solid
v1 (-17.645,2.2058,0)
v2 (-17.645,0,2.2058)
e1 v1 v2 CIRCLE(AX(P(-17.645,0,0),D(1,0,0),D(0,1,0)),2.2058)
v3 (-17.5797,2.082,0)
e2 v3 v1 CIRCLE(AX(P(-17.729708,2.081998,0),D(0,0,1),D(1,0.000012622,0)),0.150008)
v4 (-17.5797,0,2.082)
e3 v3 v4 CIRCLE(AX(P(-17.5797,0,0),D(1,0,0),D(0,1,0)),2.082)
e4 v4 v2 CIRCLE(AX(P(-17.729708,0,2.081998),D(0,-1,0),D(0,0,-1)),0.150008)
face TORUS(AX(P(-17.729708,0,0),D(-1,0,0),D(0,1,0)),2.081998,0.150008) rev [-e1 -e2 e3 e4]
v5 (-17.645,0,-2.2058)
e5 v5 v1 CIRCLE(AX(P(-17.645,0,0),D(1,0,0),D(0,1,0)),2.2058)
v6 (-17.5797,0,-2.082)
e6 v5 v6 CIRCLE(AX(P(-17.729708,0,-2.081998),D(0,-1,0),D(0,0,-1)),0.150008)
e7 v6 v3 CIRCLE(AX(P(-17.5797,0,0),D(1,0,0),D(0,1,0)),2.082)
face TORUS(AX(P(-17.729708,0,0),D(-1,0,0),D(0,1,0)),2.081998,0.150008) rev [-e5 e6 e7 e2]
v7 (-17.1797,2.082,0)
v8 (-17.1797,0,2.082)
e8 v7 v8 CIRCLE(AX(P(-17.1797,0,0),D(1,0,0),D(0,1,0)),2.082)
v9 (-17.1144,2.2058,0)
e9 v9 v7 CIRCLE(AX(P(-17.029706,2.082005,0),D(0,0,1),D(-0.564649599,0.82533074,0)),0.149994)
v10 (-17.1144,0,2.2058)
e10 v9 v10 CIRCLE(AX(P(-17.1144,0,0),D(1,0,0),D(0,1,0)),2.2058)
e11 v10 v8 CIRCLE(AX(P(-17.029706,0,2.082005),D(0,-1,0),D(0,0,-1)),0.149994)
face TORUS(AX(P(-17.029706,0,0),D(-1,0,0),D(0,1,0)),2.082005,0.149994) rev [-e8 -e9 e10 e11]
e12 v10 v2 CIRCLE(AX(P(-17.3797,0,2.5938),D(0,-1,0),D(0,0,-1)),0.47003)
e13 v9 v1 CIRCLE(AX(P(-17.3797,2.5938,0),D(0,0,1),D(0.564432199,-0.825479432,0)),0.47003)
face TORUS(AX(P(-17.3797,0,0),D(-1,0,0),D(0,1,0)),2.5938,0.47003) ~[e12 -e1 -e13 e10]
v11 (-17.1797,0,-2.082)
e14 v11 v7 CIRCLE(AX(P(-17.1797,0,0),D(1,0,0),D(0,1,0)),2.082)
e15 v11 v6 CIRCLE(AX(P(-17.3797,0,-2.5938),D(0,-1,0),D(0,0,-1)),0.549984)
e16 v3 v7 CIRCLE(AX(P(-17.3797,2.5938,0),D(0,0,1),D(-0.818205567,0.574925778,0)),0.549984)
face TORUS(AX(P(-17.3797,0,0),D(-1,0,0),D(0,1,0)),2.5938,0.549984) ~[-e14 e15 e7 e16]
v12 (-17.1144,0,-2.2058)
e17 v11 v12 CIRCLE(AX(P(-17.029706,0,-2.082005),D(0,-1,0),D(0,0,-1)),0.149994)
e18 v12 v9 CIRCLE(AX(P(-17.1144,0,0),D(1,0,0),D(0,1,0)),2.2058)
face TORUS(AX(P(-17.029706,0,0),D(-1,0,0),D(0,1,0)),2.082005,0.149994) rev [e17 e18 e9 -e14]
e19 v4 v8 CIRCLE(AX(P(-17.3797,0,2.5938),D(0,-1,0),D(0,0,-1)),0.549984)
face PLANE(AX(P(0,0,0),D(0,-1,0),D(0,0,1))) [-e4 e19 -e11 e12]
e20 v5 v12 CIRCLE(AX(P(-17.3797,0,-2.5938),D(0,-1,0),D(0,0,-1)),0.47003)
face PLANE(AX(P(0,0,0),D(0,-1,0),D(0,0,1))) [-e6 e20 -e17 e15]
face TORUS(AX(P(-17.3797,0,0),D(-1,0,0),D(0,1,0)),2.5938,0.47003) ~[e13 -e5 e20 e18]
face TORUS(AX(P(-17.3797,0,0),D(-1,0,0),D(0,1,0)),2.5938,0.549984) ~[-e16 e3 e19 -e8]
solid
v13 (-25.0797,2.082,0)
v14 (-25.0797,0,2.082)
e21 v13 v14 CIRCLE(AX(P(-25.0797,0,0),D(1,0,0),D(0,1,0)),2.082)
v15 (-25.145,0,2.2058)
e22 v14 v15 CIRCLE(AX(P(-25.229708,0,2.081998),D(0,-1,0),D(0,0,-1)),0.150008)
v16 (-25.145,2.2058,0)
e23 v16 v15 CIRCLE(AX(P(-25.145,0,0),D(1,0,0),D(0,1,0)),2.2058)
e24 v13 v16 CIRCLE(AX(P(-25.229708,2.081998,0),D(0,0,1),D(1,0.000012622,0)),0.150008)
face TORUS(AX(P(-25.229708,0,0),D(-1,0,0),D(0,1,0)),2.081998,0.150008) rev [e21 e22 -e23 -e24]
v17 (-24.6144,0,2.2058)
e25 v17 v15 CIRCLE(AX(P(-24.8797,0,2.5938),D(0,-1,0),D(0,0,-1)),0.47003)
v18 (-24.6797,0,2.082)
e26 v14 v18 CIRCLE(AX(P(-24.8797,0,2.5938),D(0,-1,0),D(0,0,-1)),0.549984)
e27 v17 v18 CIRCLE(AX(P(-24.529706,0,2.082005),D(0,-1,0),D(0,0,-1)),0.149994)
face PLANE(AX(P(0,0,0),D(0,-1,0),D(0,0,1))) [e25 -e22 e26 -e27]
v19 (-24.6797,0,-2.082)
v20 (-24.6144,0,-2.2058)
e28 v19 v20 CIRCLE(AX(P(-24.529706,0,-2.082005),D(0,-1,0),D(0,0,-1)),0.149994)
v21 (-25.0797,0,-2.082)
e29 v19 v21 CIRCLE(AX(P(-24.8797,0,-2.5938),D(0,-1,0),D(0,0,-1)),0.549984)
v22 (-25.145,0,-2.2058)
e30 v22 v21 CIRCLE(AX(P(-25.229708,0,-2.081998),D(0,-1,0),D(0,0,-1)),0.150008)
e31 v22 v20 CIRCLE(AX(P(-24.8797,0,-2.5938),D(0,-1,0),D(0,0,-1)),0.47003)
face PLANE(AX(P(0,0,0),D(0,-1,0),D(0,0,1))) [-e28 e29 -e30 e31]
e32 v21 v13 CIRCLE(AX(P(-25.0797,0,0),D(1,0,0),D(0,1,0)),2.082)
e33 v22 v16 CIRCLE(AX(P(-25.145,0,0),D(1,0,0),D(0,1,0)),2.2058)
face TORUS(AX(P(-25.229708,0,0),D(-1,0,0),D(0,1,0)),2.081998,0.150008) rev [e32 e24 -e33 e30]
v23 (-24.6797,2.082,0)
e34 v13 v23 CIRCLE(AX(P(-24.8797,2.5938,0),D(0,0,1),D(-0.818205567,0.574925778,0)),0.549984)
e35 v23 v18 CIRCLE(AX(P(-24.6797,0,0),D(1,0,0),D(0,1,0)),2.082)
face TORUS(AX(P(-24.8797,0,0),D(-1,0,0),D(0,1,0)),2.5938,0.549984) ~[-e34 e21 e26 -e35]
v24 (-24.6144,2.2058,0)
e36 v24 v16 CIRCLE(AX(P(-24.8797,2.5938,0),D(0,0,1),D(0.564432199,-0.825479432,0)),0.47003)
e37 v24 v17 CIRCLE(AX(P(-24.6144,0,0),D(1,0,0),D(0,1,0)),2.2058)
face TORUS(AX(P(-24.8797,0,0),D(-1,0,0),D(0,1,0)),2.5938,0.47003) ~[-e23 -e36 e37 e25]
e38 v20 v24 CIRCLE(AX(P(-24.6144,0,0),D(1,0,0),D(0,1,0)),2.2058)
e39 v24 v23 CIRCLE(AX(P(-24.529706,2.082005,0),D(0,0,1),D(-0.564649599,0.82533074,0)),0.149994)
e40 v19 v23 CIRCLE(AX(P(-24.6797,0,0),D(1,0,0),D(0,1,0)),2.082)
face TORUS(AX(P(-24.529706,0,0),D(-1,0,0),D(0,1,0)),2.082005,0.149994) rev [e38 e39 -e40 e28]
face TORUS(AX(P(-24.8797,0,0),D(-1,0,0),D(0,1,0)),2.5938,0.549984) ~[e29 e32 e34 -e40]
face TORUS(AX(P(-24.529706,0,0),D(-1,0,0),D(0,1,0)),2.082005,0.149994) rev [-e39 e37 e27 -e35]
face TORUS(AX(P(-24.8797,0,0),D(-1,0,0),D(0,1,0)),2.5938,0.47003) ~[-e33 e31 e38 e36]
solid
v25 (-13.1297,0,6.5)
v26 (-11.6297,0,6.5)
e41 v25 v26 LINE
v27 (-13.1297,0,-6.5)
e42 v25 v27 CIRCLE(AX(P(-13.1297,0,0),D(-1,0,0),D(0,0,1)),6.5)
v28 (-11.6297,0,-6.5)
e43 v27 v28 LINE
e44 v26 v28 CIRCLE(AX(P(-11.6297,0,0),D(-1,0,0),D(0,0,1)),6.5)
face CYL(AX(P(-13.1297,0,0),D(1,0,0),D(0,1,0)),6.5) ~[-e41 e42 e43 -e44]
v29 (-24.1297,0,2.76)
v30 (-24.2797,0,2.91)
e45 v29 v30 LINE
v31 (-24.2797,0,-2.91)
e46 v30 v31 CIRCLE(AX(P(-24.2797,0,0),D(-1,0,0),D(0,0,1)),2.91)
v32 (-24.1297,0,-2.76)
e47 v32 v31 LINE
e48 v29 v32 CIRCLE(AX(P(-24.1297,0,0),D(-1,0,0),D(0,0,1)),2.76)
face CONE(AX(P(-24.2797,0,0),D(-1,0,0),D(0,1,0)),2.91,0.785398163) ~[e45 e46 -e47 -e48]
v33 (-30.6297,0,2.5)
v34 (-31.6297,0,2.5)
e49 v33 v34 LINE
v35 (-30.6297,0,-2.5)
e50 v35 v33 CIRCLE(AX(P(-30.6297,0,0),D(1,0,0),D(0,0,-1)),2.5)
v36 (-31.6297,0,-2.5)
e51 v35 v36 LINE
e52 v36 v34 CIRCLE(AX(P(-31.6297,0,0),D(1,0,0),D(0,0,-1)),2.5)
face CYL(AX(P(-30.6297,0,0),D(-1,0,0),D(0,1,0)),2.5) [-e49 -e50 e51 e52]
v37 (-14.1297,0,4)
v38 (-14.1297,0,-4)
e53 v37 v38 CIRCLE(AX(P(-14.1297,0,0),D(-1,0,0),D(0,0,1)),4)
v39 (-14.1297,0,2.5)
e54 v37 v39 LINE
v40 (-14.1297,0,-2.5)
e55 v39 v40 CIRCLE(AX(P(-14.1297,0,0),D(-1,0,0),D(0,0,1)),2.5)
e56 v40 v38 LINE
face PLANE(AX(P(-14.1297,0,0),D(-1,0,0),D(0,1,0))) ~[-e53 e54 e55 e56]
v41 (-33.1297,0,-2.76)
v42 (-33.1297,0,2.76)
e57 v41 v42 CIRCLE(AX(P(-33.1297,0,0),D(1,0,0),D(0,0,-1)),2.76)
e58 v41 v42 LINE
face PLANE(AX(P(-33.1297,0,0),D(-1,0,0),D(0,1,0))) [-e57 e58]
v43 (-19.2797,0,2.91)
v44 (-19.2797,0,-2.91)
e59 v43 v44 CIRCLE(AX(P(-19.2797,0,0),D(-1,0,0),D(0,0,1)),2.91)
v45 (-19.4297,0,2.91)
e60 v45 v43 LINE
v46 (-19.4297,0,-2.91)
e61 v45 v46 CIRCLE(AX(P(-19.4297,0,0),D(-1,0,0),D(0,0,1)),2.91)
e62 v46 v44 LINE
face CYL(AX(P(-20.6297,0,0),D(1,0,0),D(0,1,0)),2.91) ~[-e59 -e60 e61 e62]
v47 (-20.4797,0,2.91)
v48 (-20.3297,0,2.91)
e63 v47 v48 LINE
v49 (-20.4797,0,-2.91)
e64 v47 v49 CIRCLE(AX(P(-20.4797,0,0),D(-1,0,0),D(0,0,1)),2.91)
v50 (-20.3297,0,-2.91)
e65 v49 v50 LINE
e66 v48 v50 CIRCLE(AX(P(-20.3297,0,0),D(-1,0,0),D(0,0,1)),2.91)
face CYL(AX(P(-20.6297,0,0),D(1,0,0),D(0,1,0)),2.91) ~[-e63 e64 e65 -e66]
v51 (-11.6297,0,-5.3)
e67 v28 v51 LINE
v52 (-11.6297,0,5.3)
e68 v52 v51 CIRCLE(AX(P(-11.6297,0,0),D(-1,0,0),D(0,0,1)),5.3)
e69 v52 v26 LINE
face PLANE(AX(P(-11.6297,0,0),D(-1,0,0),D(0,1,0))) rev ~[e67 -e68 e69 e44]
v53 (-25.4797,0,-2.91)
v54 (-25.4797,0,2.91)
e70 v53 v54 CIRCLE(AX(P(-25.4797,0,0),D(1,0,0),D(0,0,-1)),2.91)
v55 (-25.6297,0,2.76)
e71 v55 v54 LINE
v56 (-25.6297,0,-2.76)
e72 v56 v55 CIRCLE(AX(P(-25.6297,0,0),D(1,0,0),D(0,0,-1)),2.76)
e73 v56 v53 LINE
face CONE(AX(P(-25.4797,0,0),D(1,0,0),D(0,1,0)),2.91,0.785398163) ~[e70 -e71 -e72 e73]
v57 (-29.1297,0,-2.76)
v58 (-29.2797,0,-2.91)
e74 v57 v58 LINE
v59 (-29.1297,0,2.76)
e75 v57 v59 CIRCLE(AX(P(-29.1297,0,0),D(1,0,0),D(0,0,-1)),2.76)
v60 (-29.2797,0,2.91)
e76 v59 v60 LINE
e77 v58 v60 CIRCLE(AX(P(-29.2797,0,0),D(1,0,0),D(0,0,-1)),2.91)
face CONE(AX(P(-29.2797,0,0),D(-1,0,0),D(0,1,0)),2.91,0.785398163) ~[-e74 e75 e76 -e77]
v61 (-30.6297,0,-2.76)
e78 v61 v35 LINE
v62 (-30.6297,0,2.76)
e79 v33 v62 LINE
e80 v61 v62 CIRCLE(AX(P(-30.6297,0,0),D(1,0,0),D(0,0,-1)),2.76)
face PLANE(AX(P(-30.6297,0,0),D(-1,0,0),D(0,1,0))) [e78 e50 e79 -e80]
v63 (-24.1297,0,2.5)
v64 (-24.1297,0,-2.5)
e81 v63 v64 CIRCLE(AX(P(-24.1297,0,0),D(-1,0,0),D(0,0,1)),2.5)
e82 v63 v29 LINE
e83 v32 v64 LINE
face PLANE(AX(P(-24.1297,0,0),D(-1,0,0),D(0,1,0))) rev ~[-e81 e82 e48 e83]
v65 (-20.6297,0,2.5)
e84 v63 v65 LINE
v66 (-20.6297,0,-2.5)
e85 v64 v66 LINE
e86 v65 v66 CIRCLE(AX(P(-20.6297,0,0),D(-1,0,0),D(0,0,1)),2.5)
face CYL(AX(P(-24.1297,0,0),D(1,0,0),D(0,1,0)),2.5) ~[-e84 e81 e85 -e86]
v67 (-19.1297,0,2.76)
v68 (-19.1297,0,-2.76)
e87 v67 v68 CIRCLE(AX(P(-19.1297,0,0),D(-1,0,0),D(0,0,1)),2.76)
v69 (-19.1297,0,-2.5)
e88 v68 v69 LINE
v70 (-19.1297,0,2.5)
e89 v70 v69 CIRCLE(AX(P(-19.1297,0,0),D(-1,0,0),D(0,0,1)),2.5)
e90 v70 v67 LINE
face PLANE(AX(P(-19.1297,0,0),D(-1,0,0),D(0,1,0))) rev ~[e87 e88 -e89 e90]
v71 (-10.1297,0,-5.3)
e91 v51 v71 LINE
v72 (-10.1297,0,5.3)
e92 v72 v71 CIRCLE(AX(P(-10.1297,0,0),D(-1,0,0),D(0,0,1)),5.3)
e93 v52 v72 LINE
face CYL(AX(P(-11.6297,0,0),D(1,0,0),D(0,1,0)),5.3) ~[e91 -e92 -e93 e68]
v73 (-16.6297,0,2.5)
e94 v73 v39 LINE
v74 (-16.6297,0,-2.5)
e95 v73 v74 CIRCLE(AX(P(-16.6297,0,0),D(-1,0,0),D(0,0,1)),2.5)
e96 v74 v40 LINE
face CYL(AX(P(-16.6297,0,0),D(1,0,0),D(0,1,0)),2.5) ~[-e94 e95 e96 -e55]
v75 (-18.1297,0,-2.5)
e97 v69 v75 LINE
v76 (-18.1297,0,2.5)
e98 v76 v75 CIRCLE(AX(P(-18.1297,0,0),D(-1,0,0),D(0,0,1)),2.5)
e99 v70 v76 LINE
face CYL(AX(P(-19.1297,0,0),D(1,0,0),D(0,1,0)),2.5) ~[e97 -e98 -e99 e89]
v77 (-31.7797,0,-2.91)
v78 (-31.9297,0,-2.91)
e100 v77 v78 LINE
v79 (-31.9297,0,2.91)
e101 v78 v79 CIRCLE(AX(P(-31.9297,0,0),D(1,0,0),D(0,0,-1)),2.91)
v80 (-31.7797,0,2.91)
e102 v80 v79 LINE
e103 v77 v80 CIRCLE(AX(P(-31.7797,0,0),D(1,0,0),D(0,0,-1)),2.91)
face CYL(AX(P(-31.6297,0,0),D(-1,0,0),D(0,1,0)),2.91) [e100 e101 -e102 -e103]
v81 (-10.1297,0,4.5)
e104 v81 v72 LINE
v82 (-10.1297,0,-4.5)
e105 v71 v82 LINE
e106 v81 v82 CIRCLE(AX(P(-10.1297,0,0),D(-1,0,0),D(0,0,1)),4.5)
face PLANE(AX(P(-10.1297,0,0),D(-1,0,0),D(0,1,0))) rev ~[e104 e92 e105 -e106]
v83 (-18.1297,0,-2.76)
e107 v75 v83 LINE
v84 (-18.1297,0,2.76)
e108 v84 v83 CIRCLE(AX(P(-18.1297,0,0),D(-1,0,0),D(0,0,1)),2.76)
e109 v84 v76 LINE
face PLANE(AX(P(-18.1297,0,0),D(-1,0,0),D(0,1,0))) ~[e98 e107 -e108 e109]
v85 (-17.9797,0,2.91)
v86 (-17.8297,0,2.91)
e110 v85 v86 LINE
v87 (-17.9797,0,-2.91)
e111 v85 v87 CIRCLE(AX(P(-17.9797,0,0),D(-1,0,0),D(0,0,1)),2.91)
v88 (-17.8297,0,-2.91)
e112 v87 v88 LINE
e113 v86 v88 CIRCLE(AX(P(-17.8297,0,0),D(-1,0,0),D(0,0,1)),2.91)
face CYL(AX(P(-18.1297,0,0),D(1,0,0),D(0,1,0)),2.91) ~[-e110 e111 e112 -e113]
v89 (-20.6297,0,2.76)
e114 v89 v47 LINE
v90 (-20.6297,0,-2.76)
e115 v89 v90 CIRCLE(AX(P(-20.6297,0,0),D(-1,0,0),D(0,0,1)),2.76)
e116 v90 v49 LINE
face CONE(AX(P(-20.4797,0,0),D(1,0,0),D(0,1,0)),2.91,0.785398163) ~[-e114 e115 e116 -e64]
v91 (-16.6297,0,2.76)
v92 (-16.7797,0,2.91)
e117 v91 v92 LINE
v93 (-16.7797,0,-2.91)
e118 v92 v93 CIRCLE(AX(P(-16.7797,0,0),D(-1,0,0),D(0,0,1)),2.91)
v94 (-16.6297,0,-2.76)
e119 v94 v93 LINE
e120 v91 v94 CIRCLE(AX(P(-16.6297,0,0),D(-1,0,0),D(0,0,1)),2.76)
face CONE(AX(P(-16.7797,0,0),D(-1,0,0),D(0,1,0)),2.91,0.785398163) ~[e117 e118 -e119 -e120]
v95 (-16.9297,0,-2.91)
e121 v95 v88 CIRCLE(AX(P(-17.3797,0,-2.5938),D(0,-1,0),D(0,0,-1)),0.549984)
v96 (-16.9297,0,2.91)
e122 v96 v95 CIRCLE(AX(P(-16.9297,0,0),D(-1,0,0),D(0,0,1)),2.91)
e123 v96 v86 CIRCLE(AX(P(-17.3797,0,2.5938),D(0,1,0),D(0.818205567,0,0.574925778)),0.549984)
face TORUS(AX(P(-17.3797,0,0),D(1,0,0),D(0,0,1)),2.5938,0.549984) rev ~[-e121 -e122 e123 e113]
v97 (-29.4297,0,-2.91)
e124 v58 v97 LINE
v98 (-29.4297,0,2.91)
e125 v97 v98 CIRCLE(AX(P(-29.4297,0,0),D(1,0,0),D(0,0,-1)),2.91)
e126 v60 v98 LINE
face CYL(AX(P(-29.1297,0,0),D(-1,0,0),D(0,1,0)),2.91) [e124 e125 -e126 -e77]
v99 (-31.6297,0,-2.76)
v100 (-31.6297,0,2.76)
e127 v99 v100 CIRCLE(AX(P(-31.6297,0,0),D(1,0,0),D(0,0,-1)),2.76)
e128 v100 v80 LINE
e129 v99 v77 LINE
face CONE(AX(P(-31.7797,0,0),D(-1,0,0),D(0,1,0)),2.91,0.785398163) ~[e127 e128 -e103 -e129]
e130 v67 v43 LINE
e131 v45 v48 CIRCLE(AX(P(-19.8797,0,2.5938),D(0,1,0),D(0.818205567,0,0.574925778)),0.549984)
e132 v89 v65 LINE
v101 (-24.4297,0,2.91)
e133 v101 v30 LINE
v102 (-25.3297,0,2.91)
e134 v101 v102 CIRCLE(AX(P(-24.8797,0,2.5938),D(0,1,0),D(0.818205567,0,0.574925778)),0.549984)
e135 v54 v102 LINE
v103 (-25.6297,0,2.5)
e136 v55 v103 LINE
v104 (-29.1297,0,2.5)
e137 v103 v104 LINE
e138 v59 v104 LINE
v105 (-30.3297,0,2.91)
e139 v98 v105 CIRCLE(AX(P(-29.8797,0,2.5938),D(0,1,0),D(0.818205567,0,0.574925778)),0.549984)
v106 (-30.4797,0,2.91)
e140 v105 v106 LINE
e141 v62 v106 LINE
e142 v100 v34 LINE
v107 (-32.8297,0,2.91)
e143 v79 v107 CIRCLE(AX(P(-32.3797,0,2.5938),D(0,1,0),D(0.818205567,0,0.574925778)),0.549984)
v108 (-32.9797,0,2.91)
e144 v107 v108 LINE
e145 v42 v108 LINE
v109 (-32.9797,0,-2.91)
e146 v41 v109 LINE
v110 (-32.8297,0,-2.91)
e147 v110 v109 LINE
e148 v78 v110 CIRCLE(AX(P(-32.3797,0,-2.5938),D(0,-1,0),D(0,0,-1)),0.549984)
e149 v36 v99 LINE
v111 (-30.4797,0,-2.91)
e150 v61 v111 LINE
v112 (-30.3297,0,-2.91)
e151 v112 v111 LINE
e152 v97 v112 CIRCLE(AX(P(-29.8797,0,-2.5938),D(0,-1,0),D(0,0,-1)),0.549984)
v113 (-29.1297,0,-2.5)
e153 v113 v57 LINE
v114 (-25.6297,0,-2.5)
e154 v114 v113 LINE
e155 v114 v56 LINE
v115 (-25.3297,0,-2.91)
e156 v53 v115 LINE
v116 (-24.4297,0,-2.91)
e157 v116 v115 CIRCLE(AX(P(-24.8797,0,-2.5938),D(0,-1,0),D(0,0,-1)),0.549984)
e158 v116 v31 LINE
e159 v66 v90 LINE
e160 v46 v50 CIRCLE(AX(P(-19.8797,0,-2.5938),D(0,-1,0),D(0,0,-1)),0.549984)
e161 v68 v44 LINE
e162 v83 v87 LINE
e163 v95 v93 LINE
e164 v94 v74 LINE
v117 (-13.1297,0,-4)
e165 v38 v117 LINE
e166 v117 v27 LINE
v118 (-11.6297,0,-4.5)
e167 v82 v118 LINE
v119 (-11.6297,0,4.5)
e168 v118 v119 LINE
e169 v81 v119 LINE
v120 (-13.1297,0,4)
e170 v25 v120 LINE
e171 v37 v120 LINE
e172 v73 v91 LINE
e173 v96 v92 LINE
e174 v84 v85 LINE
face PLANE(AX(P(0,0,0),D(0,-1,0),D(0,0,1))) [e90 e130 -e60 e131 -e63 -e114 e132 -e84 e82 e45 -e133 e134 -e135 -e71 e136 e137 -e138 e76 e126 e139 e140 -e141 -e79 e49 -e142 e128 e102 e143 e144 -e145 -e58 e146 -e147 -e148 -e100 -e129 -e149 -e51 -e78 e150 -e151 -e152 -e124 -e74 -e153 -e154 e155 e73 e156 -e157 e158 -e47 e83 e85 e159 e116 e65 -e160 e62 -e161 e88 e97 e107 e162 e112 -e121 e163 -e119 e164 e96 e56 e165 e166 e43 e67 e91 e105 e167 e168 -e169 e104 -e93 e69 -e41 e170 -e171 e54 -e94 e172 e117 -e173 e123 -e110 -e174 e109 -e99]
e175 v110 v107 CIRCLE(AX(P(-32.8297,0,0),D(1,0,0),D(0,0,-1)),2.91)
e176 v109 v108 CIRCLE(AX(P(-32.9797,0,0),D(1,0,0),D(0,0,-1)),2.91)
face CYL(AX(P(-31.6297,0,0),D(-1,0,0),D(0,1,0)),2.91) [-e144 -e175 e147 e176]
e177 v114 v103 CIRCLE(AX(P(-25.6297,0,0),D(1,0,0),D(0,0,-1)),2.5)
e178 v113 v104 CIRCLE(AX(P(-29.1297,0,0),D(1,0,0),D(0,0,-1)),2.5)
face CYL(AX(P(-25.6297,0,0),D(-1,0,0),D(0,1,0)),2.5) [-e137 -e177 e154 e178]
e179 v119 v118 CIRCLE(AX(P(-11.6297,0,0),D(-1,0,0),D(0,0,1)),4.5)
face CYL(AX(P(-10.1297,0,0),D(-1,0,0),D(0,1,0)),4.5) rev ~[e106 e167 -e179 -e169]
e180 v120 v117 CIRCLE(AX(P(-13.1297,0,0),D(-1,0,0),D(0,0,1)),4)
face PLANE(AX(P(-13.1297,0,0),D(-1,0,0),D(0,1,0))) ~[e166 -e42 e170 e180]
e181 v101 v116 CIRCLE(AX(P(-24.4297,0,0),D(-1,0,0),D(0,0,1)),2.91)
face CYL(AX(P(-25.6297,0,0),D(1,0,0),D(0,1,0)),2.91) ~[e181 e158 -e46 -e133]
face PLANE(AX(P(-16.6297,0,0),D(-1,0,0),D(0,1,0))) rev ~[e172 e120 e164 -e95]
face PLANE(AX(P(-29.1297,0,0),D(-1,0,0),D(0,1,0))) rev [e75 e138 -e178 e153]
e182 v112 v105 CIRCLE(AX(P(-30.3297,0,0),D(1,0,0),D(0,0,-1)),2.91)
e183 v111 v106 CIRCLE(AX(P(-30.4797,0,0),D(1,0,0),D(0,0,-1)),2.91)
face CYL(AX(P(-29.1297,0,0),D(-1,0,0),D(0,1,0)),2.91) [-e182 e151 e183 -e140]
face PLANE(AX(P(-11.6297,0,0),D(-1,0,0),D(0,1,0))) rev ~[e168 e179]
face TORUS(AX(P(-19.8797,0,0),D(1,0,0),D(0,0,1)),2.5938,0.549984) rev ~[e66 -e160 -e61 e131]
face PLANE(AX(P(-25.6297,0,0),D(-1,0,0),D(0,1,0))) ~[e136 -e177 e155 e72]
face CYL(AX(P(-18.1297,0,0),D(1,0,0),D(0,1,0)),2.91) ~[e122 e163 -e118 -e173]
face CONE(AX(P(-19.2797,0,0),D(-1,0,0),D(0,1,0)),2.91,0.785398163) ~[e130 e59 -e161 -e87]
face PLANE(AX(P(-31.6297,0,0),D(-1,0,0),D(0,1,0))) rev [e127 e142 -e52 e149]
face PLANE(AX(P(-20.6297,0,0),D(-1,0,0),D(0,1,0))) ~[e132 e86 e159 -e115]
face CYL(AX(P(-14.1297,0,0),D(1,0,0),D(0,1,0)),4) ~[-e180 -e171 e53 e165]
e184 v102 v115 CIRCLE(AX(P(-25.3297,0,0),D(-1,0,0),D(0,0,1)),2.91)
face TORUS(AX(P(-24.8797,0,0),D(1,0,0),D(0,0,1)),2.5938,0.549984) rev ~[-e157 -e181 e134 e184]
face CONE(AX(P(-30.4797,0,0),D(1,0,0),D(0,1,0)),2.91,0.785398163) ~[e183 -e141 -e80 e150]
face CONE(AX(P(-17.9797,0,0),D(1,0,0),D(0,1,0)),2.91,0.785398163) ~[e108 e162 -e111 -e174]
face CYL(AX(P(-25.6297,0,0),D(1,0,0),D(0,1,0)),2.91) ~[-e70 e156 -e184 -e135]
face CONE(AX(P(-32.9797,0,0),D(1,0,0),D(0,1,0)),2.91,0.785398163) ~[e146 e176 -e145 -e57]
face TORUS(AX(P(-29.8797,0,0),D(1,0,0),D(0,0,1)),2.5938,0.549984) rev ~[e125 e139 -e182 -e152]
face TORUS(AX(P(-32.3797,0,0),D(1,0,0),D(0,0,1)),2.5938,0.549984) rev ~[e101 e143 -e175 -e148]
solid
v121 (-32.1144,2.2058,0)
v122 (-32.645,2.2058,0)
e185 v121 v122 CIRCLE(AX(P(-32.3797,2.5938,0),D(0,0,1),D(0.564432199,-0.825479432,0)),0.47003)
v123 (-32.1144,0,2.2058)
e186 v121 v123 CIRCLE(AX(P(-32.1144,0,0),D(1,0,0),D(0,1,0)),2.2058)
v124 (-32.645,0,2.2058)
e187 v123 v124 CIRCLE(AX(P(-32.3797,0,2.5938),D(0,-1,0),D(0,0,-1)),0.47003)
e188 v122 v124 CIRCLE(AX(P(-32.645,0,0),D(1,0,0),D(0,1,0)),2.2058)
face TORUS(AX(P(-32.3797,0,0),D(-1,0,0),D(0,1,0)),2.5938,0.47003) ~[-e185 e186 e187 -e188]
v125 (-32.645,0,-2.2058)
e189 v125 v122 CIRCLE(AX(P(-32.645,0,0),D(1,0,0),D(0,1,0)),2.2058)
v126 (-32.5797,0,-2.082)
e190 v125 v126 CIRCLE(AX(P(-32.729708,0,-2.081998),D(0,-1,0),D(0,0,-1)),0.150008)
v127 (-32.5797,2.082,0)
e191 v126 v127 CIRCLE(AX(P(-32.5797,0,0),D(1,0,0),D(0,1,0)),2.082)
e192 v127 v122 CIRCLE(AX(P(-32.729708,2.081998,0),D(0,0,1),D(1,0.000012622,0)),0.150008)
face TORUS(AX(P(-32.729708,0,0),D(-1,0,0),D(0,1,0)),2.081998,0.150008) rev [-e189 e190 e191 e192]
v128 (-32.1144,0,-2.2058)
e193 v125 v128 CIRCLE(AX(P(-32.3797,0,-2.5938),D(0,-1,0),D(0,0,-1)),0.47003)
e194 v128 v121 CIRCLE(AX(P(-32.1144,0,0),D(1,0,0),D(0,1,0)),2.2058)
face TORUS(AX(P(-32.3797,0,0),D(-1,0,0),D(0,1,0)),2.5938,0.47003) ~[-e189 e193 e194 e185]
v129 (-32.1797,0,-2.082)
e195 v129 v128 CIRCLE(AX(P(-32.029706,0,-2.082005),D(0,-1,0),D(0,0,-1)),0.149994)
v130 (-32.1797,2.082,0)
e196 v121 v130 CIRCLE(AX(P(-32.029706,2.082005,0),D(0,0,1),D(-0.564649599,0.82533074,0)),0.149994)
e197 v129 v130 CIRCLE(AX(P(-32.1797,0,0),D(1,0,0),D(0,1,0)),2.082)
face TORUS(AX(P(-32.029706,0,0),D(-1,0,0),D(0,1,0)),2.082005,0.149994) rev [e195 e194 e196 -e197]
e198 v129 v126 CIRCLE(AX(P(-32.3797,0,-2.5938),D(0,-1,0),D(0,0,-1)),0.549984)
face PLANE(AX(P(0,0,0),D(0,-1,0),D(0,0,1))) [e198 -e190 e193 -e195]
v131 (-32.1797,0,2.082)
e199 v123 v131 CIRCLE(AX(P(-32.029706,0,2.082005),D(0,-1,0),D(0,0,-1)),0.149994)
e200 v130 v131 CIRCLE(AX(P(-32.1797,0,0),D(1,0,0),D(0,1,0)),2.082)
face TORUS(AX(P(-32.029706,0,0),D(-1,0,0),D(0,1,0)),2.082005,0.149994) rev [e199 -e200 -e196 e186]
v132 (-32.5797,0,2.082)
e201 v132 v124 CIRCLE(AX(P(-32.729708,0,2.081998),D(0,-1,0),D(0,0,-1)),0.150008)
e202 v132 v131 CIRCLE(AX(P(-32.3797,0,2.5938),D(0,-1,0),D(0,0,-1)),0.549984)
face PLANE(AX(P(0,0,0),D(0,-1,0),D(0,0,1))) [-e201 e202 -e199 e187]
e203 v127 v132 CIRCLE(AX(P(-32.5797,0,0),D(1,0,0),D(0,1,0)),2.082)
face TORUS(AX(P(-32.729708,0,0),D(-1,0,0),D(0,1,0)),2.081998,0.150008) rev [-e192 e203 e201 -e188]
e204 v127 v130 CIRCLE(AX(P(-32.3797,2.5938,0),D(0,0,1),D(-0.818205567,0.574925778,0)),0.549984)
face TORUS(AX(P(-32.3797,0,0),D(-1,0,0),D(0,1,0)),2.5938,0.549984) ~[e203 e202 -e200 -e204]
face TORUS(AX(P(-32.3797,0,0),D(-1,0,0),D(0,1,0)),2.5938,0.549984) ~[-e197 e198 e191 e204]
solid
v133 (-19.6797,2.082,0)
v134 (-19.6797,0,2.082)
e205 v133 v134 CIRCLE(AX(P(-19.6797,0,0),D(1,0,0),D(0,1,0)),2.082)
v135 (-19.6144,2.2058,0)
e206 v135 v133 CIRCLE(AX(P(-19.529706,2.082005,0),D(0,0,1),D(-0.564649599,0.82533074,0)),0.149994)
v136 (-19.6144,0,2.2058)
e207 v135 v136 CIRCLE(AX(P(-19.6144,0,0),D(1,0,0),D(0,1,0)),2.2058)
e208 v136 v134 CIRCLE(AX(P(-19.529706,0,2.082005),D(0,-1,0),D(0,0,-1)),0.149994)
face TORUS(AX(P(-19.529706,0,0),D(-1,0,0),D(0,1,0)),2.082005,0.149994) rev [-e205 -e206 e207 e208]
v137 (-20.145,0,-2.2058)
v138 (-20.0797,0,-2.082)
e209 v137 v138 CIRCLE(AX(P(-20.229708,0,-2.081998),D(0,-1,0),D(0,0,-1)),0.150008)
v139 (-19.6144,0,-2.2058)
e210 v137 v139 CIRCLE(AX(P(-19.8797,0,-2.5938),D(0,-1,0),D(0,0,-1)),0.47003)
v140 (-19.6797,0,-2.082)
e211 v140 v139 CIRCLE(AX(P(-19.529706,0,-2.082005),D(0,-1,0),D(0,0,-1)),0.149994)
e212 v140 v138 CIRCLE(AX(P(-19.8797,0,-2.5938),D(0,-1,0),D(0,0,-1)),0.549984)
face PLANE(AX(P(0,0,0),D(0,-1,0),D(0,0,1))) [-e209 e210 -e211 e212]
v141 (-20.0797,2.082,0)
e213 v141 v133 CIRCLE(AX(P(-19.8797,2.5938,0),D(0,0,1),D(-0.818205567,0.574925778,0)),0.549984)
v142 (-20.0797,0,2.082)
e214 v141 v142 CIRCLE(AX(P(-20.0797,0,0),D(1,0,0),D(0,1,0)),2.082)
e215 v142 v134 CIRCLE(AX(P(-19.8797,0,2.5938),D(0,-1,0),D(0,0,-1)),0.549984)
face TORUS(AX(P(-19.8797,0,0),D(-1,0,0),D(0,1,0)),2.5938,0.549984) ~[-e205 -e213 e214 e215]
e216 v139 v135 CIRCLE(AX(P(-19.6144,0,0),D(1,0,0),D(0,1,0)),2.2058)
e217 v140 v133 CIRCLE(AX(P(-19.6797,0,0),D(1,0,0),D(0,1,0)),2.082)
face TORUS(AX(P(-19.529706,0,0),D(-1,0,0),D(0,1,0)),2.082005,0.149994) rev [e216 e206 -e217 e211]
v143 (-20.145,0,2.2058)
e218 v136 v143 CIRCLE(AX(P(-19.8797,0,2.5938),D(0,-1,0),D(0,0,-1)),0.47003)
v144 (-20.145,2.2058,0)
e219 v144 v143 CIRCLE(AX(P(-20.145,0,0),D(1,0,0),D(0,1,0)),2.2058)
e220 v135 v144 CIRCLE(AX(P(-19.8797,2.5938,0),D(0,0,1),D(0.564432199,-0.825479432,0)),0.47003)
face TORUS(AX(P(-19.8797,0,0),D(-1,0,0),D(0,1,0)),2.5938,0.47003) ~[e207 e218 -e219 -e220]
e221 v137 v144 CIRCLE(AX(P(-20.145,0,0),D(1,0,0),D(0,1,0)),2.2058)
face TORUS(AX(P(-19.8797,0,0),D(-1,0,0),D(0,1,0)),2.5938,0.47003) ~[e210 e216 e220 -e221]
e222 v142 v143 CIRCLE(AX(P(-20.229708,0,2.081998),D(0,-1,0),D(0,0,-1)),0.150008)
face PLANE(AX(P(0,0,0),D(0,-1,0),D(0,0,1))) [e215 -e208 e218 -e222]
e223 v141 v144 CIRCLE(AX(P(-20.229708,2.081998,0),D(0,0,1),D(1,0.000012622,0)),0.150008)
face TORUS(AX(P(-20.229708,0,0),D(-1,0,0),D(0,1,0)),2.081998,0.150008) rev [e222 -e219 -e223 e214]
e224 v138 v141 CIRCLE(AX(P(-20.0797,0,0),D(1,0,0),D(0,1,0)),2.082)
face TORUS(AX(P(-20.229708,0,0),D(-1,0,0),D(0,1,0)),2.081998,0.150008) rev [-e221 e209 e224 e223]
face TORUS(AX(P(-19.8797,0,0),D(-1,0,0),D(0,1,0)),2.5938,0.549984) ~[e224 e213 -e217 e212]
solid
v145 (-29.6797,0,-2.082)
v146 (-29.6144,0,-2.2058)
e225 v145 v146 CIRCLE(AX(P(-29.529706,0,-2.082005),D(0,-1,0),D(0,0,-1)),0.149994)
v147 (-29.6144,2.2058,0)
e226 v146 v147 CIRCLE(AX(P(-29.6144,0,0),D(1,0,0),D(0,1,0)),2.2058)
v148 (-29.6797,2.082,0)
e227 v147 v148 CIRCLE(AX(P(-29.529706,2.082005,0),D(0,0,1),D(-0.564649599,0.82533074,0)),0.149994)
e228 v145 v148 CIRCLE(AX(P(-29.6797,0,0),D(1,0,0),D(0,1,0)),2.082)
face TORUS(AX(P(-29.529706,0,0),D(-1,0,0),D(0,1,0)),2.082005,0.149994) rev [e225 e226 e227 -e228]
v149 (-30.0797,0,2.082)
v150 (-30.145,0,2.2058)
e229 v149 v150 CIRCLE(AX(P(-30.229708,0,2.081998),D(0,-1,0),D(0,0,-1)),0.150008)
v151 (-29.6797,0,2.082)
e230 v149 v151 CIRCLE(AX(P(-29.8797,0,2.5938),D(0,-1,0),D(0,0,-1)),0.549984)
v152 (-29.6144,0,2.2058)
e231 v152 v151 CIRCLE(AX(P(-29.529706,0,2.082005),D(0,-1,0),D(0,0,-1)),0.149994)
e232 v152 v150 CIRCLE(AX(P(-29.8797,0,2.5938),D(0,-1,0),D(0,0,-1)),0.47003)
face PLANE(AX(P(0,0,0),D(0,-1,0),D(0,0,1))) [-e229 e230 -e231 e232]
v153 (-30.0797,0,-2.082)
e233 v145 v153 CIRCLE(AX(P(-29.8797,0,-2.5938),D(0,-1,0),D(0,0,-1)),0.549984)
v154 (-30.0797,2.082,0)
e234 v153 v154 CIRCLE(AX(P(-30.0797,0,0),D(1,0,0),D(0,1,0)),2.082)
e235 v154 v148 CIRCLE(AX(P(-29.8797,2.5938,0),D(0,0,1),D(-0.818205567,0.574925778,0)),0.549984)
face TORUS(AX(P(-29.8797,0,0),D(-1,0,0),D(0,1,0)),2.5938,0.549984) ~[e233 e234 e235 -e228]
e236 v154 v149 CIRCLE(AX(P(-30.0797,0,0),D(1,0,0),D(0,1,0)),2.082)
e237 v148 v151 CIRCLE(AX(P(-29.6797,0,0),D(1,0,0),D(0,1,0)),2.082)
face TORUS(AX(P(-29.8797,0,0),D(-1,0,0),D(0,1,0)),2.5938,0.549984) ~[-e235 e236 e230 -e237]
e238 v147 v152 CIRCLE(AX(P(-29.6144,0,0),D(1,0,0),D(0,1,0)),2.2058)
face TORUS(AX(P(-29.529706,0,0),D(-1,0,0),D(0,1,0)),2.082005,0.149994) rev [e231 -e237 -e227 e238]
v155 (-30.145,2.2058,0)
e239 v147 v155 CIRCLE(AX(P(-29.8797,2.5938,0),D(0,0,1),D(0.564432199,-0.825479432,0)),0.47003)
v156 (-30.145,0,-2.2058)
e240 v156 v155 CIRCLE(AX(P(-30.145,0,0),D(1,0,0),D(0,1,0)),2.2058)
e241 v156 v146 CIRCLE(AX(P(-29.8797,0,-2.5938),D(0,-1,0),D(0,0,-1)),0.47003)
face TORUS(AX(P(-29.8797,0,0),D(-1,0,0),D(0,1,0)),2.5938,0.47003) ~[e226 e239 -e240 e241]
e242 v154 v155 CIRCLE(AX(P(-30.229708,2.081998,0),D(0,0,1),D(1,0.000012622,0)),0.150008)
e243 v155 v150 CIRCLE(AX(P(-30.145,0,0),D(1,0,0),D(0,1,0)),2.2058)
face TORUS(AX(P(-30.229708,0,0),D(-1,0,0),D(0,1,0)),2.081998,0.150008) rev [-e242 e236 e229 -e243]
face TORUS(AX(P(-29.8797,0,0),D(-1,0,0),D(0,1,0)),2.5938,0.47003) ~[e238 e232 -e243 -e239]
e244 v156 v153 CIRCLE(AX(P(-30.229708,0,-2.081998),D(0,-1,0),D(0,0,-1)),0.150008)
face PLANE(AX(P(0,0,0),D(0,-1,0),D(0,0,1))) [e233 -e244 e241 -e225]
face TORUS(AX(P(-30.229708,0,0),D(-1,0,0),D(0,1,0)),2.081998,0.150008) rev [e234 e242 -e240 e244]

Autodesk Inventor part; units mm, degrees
ref_plane "YZ Plane" through (0, 0, 0) normal (1, 0, 0) x (0, 1, 0)
ref_plane "XZ Plane" through (0, 0, 0) normal (0, 1, 0) x (-1, 0, 0)
ref_plane "XY Plane" through (0, 0, 0) normal (0, 0, 1) x (1, 0, 0)
sketch "Sketch1" plane through (0, 0, 0) normal (0, 0, 1) x (1, 0, 0)
  line L0 (-25.6297, 2.5) -> (-25.6297, 2.91)
  line L1 (-25.6297, 2.91) -> (-24.1297, 2.91)
  line L2 (-24.1297, 2.91) -> (-24.1297, 2.5)
  line L3 (-24.1297, 2.5) -> (-20.6297, 2.5)
  line L4 (-20.6297, 2.5) -> (-20.6297, 2.91)
  line L5 (-20.6297, 2.91) -> (-19.1297, 2.91)
  line L6 (-19.1297, 2.91) -> (-19.1297, 2.5)
  line L7 (-19.1297, 2.5) -> (-18.1297, 2.5)
  line L8 (-18.1297, 2.5) -> (-18.1297, 2.91)
  line L9 (-18.1297, 2.91) -> (-16.6297, 2.91)
  line L10 (-16.6297, 2.91) -> (-16.6297, 2.5)
  line L11 (-13.1297, 6.5) -> (-11.6297, 6.5)
  line L12 (-11.6297, 0) -> (-33.1297, 0)
  line L13 (-11.6297, 6.5) -> (-11.6297, 5.3)
  line L14 (-11.6297, 5.3) -> (-10.1297, 5.3)
  line L15 (-10.1297, 5.3) -> (-10.1297, 4.5)
  line L16 (-10.1297, 4.5) -> (-11.6297, 4.5)
  line L17 (-11.6297, 4.5) -> (-11.6297, 0)
  line L18 (-16.6297, 2.5) -> (-14.1297, 2.5)
  line L19 (-14.1297, 2.5) -> (-14.1297, 4)
  line L20 (-14.1297, 4) -> (-13.1297, 4)
  line L21 (-13.1297, 4) -> (-13.1297, 6.5)
  line L22 (-25.6297, 2.5) -> (-29.1297, 2.5)
  line L23 (-29.1297, 2.5) -> (-29.1297, 2.91)
  line L24 (-29.1297, 2.91) -> (-30.6297, 2.91)
  line L25 (-30.6297, 2.91) -> (-30.6297, 2.5)
  line L26 (-30.6297, 2.5) -> (-31.6297, 2.5)
  line L27 (-31.6297, 2.5) -> (-31.6297, 2.91)
  line L28 (-31.6297, 2.91) -> (-33.1297, 2.91)
  line L29 (-33.1297, 2.91) -> (-33.1297, 0)
  point P0 (0, 0)
  point P1 (-10.1297, 2.5)
  point P2 (-25.6297, 0)
  point P3 (-33.1297, 0.067)
  dimension "d2" = 1.5
  dimension "d3" = 1.5
  dimension "d4" = 1.5
  dimension "d5" = 1.5
  dimension "d9" = 3.5
  dimension "d10" = 1
  dimension "d14" = 6.5
  dimension "d60" = 5.3
  dimension "d61" = 4.5
  dimension "d62" = 1.5
  dimension "d63" = 2.5
  dimension "d64" = 1
  dimension "d65" = 4
  dimension "d95" = 1.5
  dimension "d96" = 3.5
  dimension "d107" = 1
  dimension "d108" = 1.5
revolve "Revolution1" add sketch "Sketch1" angle 360 about axis through (-11.6297, 0, 0) along (-1, 0, 0)
chamfer "Chamfer1" distance 0.15 angle 45 7 edges at (-25.6297, -2.91, 0) (-20.6297, -2.91, 0) (-18.1297, -2.91, 0) (-30.6297, -2.91, 0) (-29.1297, -2.91, 0) (-33.1297, -2.91, 0) (-31.6297, -2.91, 0)
chamfer "Chamfer2" distance 0.15 angle 45 3 edges at (-24.1297, -2.91, 0) (-19.1297, -2.91, 0) (-16.6297, -2.91, 0)
sketch "Sketch4" plane through (0, 0, 0) normal (0, 1, 0) x (-1, 0, 0)
  line L0 (17.9797, 2.91) -> (16.7797, 2.91) projected
  arc A0 (16.9297, 2.91) -> (17.8297, 2.91) centre (17.3797, 2.5938) ccw
  line L1 (18.1297, 2.76) -> (18.1297, -2.76) projected
  line L2 (16.6297, -2.76) -> (16.6297, 2.76) projected
  line L3 (20.4797, 2.91) -> (19.2797, 2.91) projected
  arc A1 (19.4297, 2.91) -> (20.3297, 2.91) centre (19.8797, 2.5938) ccw
  line L4 (20.6297, 2.76) -> (20.6297, -2.76) projected
  line L5 (19.1297, -2.76) -> (19.1297, 2.76) projected
  line L6 (25.4797, 2.91) -> (24.2797, 2.91) projected
  arc A2 (24.4297, 2.91) -> (25.3297, 2.91) centre (24.8797, 2.5938) ccw
  line L7 (25.6297, 2.76) -> (25.6297, -2.76) projected
  line L8 (24.1297, -2.76) -> (24.1297, 2.76) projected
  line L9 (30.4797, 2.91) -> (29.2797, 2.91) projected
  arc A3 (29.4297, 2.91) -> (30.3297, 2.91) centre (29.8797, 2.5938) ccw
  line L10 (30.6297, 2.76) -> (30.6297, -2.76) projected
  line L11 (29.1297, -2.76) -> (29.1297, 2.76) projected
  line L12 (32.9797, 2.91) -> (31.7797, 2.91) projected
  arc A4 (31.9297, 2.91) -> (32.8297, 2.91) centre (32.3797, 2.5938) ccw
  line L13 (33.1297, 2.76) -> (33.1297, -2.76) projected
  line L14 (31.6297, -2.76) -> (31.6297, 2.76) projected
  line L15 (39.7557, 0) -> (-6.6259, 0) projected
  point P0 (0, 0)
  dimension "d124" = 0.3
  dimension "d125" = 0.3
  dimension "d126" = 0.55
  dimension "d127" = 0.3
  dimension "d128" = 0.3
  dimension "d129" = 0.55
  dimension "d130" = 0.3
  dimension "d131" = 0.3
  dimension "d133" = 0.55
  dimension "d134" = 0.3
  dimension "d135" = 0.3
  dimension "d136" = 0.55
  dimension "d137" = 0.3
  dimension "d138" = 0.3
  dimension "d139" = 0.55
revolve "Revolution6" cut sketch "Sketch4" angle 360 about axis through (-10, 0, 0) along (1, 0, 0)
sketch "Sketch5" plane through (0, 0, 0) normal (0, 0, 1) x (1, 0, 0)
  line L0 (-29.2797, 2.91) -> (-29.1297, 2.76) projected
  line L1 (-29.1297, 2.76) -> (-29.1297, 2.5) projected
  line L2 (-29.1297, 2.5) -> (-25.6297, 2.5) projected
  line L3 (-25.6297, 2.5) -> (-25.6297, 2.76) projected
  line L4 (-25.6297, 2.76) -> (-25.4797, 2.91) projected
  line L5 (-25.4797, 2.91) -> (-25.3297, 2.91) projected
  arc A0 (-25.3297, 2.91) -> (-24.4297, 2.91) centre (-24.8797, 2.5938) ccw projected
  line L6 (-24.4297, 2.91) -> (-24.2797, 2.91) projected
  line L7 (-24.2797, 2.91) -> (-24.1297, 2.76) projected
  line L8 (-24.1297, 2.76) -> (-24.1297, 2.5) projected
  line L9 (-24.1297, 2.5) -> (-20.6297, 2.5) projected
  line L10 (-20.6297, 2.5) -> (-20.6297, 2.76) projected
  line L11 (-20.6297, 2.76) -> (-20.4797, 2.91) projected
  line L12 (-20.4797, 2.91) -> (-20.3297, 2.91) projected
  arc A1 (-20.3297, 2.91) -> (-19.4297, 2.91) centre (-19.8797, 2.5938) ccw projected
  line L13 (-19.4297, 2.91) -> (-19.2797, 2.91) projected
  line L14 (-19.2797, 2.91) -> (-19.1297, 2.76) projected
  line L15 (-19.1297, 2.76) -> (-19.1297, 2.5) projected
  line L16 (-19.1297, 2.5) -> (-18.1297, 2.5) projected
  line L17 (-18.1297, 2.5) -> (-18.1297, 2.76) projected
  line L18 (-18.1297, 2.76) -> (-17.9797, 2.91) projected
  line L19 (-17.9797, 2.91) -> (-17.8297, 2.91) projected
  arc A2 (-17.8297, 2.91) -> (-16.9297, 2.91) centre (-17.3797, 2.5938) ccw projected
  line L20 (-16.9297, 2.91) -> (-16.7797, 2.91) projected
  line L21 (-16.7797, 2.91) -> (-16.6297, 2.76) projected
  line L22 (-16.6297, 2.76) -> (-16.6297, 2.5) projected
  line L23 (-16.6297, 2.5) -> (-14.1297, 2.5) projected
  line L24 (-14.1297, 2.5) -> (-14.1297, 4) projected
  line L25 (-14.1297, 4) -> (-13.1297, 4) projected
  line L26 (-13.1297, 4) -> (-13.1297, 6.5) projected
  line L27 (-13.1297, 6.5) -> (-11.6297, 6.5) projected
  line L28 (-11.6297, 6.5) -> (-11.6297, 5.3) projected
  line L29 (-11.6297, 5.3) -> (-10.1297, 5.3) projected
  line L30 (-10.1297, 5.3) -> (-10.1297, 4.5) projected
  line L31 (-10.1297, 4.5) -> (-11.6297, 4.5) projected
  line L32 (-11.6297, 4.5) -> (-11.6297, -4.5) projected
  line L33 (-11.6297, -4.5) -> (-10.1297, -4.5) projected
  line L34 (-10.1297, -4.5) -> (-10.1297, -5.3) projected
  line L35 (-10.1297, -5.3) -> (-11.6297, -5.3) projected
  line L36 (-11.6297, -5.3) -> (-11.6297, -6.5) projected
  line L37 (-11.6297, -6.5) -> (-13.1297, -6.5) projected
  line L38 (-13.1297, -6.5) -> (-13.1297, -4) projected
  line L39 (-13.1297, -4) -> (-14.1297, -4) projected
  line L40 (-14.1297, -4) -> (-14.1297, -2.5) projected
  line L41 (-14.1297, -2.5) -> (-16.6297, -2.5) projected
  line L42 (-16.6297, -2.5) -> (-16.6297, -2.76) projected
  line L43 (-16.6297, -2.76) -> (-16.7797, -2.91) projected
  line L44 (-16.7797, -2.91) -> (-16.9297, -2.91) projected
  arc A3 (-16.9297, -2.91) -> (-17.8297, -2.91) centre (-17.3797, -2.5938) ccw projected
  line L45 (-17.8297, -2.91) -> (-17.9797, -2.91) projected
  line L46 (-17.9797, -2.91) -> (-18.1297, -2.76) projected
  line L47 (-18.1297, -2.76) -> (-18.1297, -2.5) projected
  line L48 (-18.1297, -2.5) -> (-19.1297, -2.5) projected
  line L49 (-19.1297, -2.5) -> (-19.1297, -2.76) projected
  line L50 (-19.1297, -2.76) -> (-19.2797, -2.91) projected
  line L51 (-19.2797, -2.91) -> (-19.4297, -2.91) projected
  arc A4 (-19.4297, -2.91) -> (-20.3297, -2.91) centre (-19.8797, -2.5938) ccw projected
  line L52 (-20.3297, -2.91) -> (-20.4797, -2.91) projected
  line L53 (-20.4797, -2.91) -> (-20.6297, -2.76) projected
  line L54 (-20.6297, -2.76) -> (-20.6297, -2.5) projected
  line L55 (-20.6297, -2.5) -> (-24.1297, -2.5) projected
  line L56 (-24.1297, -2.5) -> (-24.1297, -2.76) projected
  line L57 (-24.1297, -2.76) -> (-24.2797, -2.91) projected
  line L58 (-24.2797, -2.91) -> (-24.4297, -2.91) projected
  arc A5 (-24.4297, -2.91) -> (-25.3297, -2.91) centre (-24.8797, -2.5938) ccw projected
  line L59 (-25.3297, -2.91) -> (-25.4797, -2.91) projected
  line L60 (-25.4797, -2.91) -> (-25.6297, -2.76) projected
  line L61 (-25.6297, -2.76) -> (-25.6297, -2.5) projected
  line L62 (-25.6297, -2.5) -> (-29.1297, -2.5) projected
  line L63 (-29.1297, -2.5) -> (-29.1297, -2.76) projected
  line L64 (-29.1297, -2.76) -> (-29.2797, -2.91) projected
  line L65 (-29.2797, -2.91) -> (-29.4297, -2.91) projected
  arc A6 (-29.4297, -2.91) -> (-30.3297, -2.91) centre (-29.8797, -2.5938) ccw projected
  line L66 (-30.3297, -2.91) -> (-30.4797, -2.91) projected
  line L67 (-30.4797, -2.91) -> (-30.6297, -2.76) projected
  line L68 (-30.6297, -2.76) -> (-30.6297, -2.5) projected
  line L69 (-30.6297, -2.5) -> (-31.6297, -2.5) projected
  line L70 (-31.6297, -2.5) -> (-31.6297, -2.76) projected
  line L71 (-31.6297, -2.76) -> (-31.7797, -2.91) projected
  line L72 (-31.7797, -2.91) -> (-31.9297, -2.91) projected
  arc A7 (-31.9297, -2.91) -> (-32.8297, -2.91) centre (-32.3797, -2.5938) ccw projected
  line L73 (-32.8297, -2.91) -> (-32.9797, -2.91) projected
  line L74 (-32.9797, -2.91) -> (-33.1297, -2.76) projected
  line L75 (-33.1297, -2.76) -> (-33.1297, 2.76) projected
  line L76 (-33.1297, 2.76) -> (-32.9797, 2.91) projected
  line L77 (-32.9797, 2.91) -> (-32.8297, 2.91) projected
  arc A8 (-32.8297, 2.91) -> (-31.9297, 2.91) centre (-32.3797, 2.5938) ccw projected
  line L78 (-31.9297, 2.91) -> (-31.7797, 2.91) projected
  line L79 (-31.7797, 2.91) -> (-31.6297, 2.76) projected
  line L80 (-31.6297, 2.76) -> (-31.6297, 2.5) projected
  line L81 (-31.6297, 2.5) -> (-30.6297, 2.5) projected
  line L82 (-30.6297, 2.5) -> (-30.6297, 2.76) projected
  line L83 (-30.6297, 2.76) -> (-30.4797, 2.91) projected
  line L84 (-30.4797, 2.91) -> (-30.3297, 2.91) projected
  arc A9 (-30.3297, 2.91) -> (-29.4297, 2.91) centre (-29.8797, 2.5938) ccw projected
  line L85 (-29.4297, 2.91) -> (-29.2797, 2.91) projected
  arc A10 (-32.1144, 2.2058) -> (-32.645, 2.2058) centre (-32.3797, 2.5938) ccw
  line L86 (-32.5797, 2.082) -> (-32.5797, 2.0814)
  arc A11 (-32.9297, 2.5938) -> (-31.8297, 2.5938) centre (-32.3797, 2.5938) ccw projected
  line L87 (-32.1797, 2.082) -> (-32.1797, 2.0814)
  arc A12 (-32.5797, 2.082) -> (-32.645, 2.2058) centre (-32.7297, 2.082) ccw
  arc A13 (-32.1144, 2.2058) -> (-32.1797, 2.082) centre (-32.0297, 2.082) ccw
  line L88 (-30.0797, 2.082) -> (-30.0797, 2.0814)
  arc A14 (-30.0797, 2.082) -> (-30.145, 2.2058) centre (-30.2297, 2.082) ccw
  line L89 (-29.6797, 2.082) -> (-29.6797, 2.0814)
  arc A15 (-29.6144, 2.2058) -> (-29.6797, 2.082) centre (-29.5297, 2.082) ccw
  arc A16 (-29.6144, 2.2058) -> (-30.145, 2.2058) centre (-29.8797, 2.5938) ccw
  line L90 (-19.6797, 2.082) -> (-19.6797, 2.0814)
  arc A17 (-19.6144, 2.2058) -> (-19.6797, 2.082) centre (-19.5297, 2.082) ccw
  line L91 (-20.0797, 2.082) -> (-20.0797, 2.0814)
  arc A18 (-20.0797, 2.082) -> (-20.145, 2.2058) centre (-20.2297, 2.082) ccw
  arc A19 (-19.6144, 2.2058) -> (-20.145, 2.2058) centre (-19.8797, 2.5938) ccw
  arc A20 (-17.1144, 2.2058) -> (-17.1797, 2.082) centre (-17.0297, 2.082) ccw
  line L92 (-17.1797, 2.082) -> (-17.1797, 2.0814)
  arc A21 (-17.1144, 2.2058) -> (-17.645, 2.2058) centre (-17.3797, 2.5938) ccw
  line L93 (-17.5797, 2.082) -> (-17.5797, 2.0814)
  arc A22 (-17.5797, 2.082) -> (-17.645, 2.2058) centre (-17.7297, 2.082) ccw
  arc A23 (-24.6144, 2.2058) -> (-24.6797, 2.082) centre (-24.5297, 2.082) ccw
  line L94 (-24.6797, 2.082) -> (-24.6797, 2.0814)
  line L95 (-25.0797, 2.082) -> (-25.0797, 2.0814)
  arc A24 (-25.0797, 2.082) -> (-25.145, 2.2058) centre (-25.2297, 2.082) ccw
  arc A25 (-24.6144, 2.2058) -> (-25.145, 2.2058) centre (-24.8797, 2.5938) ccw
  line L96 (-39.7557, 0) -> (6.6259, 0) projected
  point P0 (0, 0)
  point P1 (-32.5797, 2.1684)
  point P2 (-32.1797, 2.1684)
  point P3 (-29.1297, 2.5)
  point P4 (-29.1297, 2.76)
  point P5 (-30.4297, 2.5938)
  point P6 (-30.6297, 2.76)
  point P7 (-30.4797, 2.91)
  point P8 (-29.2797, 2.91)
  point P9 (-29.3297, 2.5938)
  point P10 (-29.6797, 2.1684)
  point P11 (-30.0797, 2.1684)
  point P12 (-16.6297, 2.76)
  point P13 (-16.6297, 2.5)
  point P14 (-18.1297, 2.5)
  point P15 (-18.1297, 2.76)
  point P16 (-19.1297, 2.5)
  point P17 (-19.1297, 2.76)
  point P18 (-20.6297, 2.76)
  point P19 (-16.7797, 2.91)
  point P20 (-16.9297, 2.91)
  point P21 (-16.9297, 2.91)
  point P22 (-16.8297, 2.5938)
  point P23 (-16.7797, 2.91)
  point P24 (-16.6297, 2.76)
  point P25 (-16.6297, 2.5)
  point P26 (-20.4797, 2.91)
  point P27 (-20.3297, 2.91)
  point P28 (-19.4297, 2.91)
  point P29 (-19.6797, 2.1684)
  point P30 (-20.0797, 2.1684)
  point P31 (-20.4297, 2.5938)
  point P32 (-17.9797, 2.91)
  point P33 (-17.8297, 2.91)
  point P34 (-17.1797, 2.1684)
  point P35 (-17.5797, 2.1684)
  point P36 (-17.8297, 2.91)
  point P37 (-17.9797, 2.91)
  point P38 (-18.1297, 2.76)
  point P39 (-17.9297, 2.5938)
  point P40 (-19.2797, 2.91)
  point P41 (-19.3297, 2.5938)
  point P42 (-24.1297, 2.5)
  point P43 (-24.1297, 2.76)
  point P44 (-25.6297, 2.76)
  point P45 (-24.4297, 2.91)
  point P46 (-24.2797, 2.91)
  point P47 (-25.4797, 2.91)
  point P48 (-25.3297, 2.91)
  point P49 (-25.0797, 2.1684)
  point P50 (-24.6797, 2.1684)
  point P51 (-24.3297, 2.5938)
  point P52 (-25.4297, 2.5938)
  dimension "d141" = 0.2
  dimension "d142" = 0.94
  dimension "d143" = 0.15
  dimension "d144" = 0.15
  dimension "d145" = 0.2
  dimension "d148" = 2.5
  dimension "d155" = 12.5
  dimension "d162" = 7.5
revolve "Revolution7" add sketch "Sketch5" angle 360 about axis through (-10, 0, 0) along (1, 0, 0) separate body contours A9 A14 A16 A15 | A24 A25 A23 A0 | A8 A12 A10 A13 | A18 A19 A17 A1 | A22 A21 A20 A2
split "Split1" plane through (0, 0, 0) removes the side toward (0, -1, 0)
split "Split2" plane through (0, 0, 0) removes the side toward (0, -1, 0)
properties part number "offset_piston"
